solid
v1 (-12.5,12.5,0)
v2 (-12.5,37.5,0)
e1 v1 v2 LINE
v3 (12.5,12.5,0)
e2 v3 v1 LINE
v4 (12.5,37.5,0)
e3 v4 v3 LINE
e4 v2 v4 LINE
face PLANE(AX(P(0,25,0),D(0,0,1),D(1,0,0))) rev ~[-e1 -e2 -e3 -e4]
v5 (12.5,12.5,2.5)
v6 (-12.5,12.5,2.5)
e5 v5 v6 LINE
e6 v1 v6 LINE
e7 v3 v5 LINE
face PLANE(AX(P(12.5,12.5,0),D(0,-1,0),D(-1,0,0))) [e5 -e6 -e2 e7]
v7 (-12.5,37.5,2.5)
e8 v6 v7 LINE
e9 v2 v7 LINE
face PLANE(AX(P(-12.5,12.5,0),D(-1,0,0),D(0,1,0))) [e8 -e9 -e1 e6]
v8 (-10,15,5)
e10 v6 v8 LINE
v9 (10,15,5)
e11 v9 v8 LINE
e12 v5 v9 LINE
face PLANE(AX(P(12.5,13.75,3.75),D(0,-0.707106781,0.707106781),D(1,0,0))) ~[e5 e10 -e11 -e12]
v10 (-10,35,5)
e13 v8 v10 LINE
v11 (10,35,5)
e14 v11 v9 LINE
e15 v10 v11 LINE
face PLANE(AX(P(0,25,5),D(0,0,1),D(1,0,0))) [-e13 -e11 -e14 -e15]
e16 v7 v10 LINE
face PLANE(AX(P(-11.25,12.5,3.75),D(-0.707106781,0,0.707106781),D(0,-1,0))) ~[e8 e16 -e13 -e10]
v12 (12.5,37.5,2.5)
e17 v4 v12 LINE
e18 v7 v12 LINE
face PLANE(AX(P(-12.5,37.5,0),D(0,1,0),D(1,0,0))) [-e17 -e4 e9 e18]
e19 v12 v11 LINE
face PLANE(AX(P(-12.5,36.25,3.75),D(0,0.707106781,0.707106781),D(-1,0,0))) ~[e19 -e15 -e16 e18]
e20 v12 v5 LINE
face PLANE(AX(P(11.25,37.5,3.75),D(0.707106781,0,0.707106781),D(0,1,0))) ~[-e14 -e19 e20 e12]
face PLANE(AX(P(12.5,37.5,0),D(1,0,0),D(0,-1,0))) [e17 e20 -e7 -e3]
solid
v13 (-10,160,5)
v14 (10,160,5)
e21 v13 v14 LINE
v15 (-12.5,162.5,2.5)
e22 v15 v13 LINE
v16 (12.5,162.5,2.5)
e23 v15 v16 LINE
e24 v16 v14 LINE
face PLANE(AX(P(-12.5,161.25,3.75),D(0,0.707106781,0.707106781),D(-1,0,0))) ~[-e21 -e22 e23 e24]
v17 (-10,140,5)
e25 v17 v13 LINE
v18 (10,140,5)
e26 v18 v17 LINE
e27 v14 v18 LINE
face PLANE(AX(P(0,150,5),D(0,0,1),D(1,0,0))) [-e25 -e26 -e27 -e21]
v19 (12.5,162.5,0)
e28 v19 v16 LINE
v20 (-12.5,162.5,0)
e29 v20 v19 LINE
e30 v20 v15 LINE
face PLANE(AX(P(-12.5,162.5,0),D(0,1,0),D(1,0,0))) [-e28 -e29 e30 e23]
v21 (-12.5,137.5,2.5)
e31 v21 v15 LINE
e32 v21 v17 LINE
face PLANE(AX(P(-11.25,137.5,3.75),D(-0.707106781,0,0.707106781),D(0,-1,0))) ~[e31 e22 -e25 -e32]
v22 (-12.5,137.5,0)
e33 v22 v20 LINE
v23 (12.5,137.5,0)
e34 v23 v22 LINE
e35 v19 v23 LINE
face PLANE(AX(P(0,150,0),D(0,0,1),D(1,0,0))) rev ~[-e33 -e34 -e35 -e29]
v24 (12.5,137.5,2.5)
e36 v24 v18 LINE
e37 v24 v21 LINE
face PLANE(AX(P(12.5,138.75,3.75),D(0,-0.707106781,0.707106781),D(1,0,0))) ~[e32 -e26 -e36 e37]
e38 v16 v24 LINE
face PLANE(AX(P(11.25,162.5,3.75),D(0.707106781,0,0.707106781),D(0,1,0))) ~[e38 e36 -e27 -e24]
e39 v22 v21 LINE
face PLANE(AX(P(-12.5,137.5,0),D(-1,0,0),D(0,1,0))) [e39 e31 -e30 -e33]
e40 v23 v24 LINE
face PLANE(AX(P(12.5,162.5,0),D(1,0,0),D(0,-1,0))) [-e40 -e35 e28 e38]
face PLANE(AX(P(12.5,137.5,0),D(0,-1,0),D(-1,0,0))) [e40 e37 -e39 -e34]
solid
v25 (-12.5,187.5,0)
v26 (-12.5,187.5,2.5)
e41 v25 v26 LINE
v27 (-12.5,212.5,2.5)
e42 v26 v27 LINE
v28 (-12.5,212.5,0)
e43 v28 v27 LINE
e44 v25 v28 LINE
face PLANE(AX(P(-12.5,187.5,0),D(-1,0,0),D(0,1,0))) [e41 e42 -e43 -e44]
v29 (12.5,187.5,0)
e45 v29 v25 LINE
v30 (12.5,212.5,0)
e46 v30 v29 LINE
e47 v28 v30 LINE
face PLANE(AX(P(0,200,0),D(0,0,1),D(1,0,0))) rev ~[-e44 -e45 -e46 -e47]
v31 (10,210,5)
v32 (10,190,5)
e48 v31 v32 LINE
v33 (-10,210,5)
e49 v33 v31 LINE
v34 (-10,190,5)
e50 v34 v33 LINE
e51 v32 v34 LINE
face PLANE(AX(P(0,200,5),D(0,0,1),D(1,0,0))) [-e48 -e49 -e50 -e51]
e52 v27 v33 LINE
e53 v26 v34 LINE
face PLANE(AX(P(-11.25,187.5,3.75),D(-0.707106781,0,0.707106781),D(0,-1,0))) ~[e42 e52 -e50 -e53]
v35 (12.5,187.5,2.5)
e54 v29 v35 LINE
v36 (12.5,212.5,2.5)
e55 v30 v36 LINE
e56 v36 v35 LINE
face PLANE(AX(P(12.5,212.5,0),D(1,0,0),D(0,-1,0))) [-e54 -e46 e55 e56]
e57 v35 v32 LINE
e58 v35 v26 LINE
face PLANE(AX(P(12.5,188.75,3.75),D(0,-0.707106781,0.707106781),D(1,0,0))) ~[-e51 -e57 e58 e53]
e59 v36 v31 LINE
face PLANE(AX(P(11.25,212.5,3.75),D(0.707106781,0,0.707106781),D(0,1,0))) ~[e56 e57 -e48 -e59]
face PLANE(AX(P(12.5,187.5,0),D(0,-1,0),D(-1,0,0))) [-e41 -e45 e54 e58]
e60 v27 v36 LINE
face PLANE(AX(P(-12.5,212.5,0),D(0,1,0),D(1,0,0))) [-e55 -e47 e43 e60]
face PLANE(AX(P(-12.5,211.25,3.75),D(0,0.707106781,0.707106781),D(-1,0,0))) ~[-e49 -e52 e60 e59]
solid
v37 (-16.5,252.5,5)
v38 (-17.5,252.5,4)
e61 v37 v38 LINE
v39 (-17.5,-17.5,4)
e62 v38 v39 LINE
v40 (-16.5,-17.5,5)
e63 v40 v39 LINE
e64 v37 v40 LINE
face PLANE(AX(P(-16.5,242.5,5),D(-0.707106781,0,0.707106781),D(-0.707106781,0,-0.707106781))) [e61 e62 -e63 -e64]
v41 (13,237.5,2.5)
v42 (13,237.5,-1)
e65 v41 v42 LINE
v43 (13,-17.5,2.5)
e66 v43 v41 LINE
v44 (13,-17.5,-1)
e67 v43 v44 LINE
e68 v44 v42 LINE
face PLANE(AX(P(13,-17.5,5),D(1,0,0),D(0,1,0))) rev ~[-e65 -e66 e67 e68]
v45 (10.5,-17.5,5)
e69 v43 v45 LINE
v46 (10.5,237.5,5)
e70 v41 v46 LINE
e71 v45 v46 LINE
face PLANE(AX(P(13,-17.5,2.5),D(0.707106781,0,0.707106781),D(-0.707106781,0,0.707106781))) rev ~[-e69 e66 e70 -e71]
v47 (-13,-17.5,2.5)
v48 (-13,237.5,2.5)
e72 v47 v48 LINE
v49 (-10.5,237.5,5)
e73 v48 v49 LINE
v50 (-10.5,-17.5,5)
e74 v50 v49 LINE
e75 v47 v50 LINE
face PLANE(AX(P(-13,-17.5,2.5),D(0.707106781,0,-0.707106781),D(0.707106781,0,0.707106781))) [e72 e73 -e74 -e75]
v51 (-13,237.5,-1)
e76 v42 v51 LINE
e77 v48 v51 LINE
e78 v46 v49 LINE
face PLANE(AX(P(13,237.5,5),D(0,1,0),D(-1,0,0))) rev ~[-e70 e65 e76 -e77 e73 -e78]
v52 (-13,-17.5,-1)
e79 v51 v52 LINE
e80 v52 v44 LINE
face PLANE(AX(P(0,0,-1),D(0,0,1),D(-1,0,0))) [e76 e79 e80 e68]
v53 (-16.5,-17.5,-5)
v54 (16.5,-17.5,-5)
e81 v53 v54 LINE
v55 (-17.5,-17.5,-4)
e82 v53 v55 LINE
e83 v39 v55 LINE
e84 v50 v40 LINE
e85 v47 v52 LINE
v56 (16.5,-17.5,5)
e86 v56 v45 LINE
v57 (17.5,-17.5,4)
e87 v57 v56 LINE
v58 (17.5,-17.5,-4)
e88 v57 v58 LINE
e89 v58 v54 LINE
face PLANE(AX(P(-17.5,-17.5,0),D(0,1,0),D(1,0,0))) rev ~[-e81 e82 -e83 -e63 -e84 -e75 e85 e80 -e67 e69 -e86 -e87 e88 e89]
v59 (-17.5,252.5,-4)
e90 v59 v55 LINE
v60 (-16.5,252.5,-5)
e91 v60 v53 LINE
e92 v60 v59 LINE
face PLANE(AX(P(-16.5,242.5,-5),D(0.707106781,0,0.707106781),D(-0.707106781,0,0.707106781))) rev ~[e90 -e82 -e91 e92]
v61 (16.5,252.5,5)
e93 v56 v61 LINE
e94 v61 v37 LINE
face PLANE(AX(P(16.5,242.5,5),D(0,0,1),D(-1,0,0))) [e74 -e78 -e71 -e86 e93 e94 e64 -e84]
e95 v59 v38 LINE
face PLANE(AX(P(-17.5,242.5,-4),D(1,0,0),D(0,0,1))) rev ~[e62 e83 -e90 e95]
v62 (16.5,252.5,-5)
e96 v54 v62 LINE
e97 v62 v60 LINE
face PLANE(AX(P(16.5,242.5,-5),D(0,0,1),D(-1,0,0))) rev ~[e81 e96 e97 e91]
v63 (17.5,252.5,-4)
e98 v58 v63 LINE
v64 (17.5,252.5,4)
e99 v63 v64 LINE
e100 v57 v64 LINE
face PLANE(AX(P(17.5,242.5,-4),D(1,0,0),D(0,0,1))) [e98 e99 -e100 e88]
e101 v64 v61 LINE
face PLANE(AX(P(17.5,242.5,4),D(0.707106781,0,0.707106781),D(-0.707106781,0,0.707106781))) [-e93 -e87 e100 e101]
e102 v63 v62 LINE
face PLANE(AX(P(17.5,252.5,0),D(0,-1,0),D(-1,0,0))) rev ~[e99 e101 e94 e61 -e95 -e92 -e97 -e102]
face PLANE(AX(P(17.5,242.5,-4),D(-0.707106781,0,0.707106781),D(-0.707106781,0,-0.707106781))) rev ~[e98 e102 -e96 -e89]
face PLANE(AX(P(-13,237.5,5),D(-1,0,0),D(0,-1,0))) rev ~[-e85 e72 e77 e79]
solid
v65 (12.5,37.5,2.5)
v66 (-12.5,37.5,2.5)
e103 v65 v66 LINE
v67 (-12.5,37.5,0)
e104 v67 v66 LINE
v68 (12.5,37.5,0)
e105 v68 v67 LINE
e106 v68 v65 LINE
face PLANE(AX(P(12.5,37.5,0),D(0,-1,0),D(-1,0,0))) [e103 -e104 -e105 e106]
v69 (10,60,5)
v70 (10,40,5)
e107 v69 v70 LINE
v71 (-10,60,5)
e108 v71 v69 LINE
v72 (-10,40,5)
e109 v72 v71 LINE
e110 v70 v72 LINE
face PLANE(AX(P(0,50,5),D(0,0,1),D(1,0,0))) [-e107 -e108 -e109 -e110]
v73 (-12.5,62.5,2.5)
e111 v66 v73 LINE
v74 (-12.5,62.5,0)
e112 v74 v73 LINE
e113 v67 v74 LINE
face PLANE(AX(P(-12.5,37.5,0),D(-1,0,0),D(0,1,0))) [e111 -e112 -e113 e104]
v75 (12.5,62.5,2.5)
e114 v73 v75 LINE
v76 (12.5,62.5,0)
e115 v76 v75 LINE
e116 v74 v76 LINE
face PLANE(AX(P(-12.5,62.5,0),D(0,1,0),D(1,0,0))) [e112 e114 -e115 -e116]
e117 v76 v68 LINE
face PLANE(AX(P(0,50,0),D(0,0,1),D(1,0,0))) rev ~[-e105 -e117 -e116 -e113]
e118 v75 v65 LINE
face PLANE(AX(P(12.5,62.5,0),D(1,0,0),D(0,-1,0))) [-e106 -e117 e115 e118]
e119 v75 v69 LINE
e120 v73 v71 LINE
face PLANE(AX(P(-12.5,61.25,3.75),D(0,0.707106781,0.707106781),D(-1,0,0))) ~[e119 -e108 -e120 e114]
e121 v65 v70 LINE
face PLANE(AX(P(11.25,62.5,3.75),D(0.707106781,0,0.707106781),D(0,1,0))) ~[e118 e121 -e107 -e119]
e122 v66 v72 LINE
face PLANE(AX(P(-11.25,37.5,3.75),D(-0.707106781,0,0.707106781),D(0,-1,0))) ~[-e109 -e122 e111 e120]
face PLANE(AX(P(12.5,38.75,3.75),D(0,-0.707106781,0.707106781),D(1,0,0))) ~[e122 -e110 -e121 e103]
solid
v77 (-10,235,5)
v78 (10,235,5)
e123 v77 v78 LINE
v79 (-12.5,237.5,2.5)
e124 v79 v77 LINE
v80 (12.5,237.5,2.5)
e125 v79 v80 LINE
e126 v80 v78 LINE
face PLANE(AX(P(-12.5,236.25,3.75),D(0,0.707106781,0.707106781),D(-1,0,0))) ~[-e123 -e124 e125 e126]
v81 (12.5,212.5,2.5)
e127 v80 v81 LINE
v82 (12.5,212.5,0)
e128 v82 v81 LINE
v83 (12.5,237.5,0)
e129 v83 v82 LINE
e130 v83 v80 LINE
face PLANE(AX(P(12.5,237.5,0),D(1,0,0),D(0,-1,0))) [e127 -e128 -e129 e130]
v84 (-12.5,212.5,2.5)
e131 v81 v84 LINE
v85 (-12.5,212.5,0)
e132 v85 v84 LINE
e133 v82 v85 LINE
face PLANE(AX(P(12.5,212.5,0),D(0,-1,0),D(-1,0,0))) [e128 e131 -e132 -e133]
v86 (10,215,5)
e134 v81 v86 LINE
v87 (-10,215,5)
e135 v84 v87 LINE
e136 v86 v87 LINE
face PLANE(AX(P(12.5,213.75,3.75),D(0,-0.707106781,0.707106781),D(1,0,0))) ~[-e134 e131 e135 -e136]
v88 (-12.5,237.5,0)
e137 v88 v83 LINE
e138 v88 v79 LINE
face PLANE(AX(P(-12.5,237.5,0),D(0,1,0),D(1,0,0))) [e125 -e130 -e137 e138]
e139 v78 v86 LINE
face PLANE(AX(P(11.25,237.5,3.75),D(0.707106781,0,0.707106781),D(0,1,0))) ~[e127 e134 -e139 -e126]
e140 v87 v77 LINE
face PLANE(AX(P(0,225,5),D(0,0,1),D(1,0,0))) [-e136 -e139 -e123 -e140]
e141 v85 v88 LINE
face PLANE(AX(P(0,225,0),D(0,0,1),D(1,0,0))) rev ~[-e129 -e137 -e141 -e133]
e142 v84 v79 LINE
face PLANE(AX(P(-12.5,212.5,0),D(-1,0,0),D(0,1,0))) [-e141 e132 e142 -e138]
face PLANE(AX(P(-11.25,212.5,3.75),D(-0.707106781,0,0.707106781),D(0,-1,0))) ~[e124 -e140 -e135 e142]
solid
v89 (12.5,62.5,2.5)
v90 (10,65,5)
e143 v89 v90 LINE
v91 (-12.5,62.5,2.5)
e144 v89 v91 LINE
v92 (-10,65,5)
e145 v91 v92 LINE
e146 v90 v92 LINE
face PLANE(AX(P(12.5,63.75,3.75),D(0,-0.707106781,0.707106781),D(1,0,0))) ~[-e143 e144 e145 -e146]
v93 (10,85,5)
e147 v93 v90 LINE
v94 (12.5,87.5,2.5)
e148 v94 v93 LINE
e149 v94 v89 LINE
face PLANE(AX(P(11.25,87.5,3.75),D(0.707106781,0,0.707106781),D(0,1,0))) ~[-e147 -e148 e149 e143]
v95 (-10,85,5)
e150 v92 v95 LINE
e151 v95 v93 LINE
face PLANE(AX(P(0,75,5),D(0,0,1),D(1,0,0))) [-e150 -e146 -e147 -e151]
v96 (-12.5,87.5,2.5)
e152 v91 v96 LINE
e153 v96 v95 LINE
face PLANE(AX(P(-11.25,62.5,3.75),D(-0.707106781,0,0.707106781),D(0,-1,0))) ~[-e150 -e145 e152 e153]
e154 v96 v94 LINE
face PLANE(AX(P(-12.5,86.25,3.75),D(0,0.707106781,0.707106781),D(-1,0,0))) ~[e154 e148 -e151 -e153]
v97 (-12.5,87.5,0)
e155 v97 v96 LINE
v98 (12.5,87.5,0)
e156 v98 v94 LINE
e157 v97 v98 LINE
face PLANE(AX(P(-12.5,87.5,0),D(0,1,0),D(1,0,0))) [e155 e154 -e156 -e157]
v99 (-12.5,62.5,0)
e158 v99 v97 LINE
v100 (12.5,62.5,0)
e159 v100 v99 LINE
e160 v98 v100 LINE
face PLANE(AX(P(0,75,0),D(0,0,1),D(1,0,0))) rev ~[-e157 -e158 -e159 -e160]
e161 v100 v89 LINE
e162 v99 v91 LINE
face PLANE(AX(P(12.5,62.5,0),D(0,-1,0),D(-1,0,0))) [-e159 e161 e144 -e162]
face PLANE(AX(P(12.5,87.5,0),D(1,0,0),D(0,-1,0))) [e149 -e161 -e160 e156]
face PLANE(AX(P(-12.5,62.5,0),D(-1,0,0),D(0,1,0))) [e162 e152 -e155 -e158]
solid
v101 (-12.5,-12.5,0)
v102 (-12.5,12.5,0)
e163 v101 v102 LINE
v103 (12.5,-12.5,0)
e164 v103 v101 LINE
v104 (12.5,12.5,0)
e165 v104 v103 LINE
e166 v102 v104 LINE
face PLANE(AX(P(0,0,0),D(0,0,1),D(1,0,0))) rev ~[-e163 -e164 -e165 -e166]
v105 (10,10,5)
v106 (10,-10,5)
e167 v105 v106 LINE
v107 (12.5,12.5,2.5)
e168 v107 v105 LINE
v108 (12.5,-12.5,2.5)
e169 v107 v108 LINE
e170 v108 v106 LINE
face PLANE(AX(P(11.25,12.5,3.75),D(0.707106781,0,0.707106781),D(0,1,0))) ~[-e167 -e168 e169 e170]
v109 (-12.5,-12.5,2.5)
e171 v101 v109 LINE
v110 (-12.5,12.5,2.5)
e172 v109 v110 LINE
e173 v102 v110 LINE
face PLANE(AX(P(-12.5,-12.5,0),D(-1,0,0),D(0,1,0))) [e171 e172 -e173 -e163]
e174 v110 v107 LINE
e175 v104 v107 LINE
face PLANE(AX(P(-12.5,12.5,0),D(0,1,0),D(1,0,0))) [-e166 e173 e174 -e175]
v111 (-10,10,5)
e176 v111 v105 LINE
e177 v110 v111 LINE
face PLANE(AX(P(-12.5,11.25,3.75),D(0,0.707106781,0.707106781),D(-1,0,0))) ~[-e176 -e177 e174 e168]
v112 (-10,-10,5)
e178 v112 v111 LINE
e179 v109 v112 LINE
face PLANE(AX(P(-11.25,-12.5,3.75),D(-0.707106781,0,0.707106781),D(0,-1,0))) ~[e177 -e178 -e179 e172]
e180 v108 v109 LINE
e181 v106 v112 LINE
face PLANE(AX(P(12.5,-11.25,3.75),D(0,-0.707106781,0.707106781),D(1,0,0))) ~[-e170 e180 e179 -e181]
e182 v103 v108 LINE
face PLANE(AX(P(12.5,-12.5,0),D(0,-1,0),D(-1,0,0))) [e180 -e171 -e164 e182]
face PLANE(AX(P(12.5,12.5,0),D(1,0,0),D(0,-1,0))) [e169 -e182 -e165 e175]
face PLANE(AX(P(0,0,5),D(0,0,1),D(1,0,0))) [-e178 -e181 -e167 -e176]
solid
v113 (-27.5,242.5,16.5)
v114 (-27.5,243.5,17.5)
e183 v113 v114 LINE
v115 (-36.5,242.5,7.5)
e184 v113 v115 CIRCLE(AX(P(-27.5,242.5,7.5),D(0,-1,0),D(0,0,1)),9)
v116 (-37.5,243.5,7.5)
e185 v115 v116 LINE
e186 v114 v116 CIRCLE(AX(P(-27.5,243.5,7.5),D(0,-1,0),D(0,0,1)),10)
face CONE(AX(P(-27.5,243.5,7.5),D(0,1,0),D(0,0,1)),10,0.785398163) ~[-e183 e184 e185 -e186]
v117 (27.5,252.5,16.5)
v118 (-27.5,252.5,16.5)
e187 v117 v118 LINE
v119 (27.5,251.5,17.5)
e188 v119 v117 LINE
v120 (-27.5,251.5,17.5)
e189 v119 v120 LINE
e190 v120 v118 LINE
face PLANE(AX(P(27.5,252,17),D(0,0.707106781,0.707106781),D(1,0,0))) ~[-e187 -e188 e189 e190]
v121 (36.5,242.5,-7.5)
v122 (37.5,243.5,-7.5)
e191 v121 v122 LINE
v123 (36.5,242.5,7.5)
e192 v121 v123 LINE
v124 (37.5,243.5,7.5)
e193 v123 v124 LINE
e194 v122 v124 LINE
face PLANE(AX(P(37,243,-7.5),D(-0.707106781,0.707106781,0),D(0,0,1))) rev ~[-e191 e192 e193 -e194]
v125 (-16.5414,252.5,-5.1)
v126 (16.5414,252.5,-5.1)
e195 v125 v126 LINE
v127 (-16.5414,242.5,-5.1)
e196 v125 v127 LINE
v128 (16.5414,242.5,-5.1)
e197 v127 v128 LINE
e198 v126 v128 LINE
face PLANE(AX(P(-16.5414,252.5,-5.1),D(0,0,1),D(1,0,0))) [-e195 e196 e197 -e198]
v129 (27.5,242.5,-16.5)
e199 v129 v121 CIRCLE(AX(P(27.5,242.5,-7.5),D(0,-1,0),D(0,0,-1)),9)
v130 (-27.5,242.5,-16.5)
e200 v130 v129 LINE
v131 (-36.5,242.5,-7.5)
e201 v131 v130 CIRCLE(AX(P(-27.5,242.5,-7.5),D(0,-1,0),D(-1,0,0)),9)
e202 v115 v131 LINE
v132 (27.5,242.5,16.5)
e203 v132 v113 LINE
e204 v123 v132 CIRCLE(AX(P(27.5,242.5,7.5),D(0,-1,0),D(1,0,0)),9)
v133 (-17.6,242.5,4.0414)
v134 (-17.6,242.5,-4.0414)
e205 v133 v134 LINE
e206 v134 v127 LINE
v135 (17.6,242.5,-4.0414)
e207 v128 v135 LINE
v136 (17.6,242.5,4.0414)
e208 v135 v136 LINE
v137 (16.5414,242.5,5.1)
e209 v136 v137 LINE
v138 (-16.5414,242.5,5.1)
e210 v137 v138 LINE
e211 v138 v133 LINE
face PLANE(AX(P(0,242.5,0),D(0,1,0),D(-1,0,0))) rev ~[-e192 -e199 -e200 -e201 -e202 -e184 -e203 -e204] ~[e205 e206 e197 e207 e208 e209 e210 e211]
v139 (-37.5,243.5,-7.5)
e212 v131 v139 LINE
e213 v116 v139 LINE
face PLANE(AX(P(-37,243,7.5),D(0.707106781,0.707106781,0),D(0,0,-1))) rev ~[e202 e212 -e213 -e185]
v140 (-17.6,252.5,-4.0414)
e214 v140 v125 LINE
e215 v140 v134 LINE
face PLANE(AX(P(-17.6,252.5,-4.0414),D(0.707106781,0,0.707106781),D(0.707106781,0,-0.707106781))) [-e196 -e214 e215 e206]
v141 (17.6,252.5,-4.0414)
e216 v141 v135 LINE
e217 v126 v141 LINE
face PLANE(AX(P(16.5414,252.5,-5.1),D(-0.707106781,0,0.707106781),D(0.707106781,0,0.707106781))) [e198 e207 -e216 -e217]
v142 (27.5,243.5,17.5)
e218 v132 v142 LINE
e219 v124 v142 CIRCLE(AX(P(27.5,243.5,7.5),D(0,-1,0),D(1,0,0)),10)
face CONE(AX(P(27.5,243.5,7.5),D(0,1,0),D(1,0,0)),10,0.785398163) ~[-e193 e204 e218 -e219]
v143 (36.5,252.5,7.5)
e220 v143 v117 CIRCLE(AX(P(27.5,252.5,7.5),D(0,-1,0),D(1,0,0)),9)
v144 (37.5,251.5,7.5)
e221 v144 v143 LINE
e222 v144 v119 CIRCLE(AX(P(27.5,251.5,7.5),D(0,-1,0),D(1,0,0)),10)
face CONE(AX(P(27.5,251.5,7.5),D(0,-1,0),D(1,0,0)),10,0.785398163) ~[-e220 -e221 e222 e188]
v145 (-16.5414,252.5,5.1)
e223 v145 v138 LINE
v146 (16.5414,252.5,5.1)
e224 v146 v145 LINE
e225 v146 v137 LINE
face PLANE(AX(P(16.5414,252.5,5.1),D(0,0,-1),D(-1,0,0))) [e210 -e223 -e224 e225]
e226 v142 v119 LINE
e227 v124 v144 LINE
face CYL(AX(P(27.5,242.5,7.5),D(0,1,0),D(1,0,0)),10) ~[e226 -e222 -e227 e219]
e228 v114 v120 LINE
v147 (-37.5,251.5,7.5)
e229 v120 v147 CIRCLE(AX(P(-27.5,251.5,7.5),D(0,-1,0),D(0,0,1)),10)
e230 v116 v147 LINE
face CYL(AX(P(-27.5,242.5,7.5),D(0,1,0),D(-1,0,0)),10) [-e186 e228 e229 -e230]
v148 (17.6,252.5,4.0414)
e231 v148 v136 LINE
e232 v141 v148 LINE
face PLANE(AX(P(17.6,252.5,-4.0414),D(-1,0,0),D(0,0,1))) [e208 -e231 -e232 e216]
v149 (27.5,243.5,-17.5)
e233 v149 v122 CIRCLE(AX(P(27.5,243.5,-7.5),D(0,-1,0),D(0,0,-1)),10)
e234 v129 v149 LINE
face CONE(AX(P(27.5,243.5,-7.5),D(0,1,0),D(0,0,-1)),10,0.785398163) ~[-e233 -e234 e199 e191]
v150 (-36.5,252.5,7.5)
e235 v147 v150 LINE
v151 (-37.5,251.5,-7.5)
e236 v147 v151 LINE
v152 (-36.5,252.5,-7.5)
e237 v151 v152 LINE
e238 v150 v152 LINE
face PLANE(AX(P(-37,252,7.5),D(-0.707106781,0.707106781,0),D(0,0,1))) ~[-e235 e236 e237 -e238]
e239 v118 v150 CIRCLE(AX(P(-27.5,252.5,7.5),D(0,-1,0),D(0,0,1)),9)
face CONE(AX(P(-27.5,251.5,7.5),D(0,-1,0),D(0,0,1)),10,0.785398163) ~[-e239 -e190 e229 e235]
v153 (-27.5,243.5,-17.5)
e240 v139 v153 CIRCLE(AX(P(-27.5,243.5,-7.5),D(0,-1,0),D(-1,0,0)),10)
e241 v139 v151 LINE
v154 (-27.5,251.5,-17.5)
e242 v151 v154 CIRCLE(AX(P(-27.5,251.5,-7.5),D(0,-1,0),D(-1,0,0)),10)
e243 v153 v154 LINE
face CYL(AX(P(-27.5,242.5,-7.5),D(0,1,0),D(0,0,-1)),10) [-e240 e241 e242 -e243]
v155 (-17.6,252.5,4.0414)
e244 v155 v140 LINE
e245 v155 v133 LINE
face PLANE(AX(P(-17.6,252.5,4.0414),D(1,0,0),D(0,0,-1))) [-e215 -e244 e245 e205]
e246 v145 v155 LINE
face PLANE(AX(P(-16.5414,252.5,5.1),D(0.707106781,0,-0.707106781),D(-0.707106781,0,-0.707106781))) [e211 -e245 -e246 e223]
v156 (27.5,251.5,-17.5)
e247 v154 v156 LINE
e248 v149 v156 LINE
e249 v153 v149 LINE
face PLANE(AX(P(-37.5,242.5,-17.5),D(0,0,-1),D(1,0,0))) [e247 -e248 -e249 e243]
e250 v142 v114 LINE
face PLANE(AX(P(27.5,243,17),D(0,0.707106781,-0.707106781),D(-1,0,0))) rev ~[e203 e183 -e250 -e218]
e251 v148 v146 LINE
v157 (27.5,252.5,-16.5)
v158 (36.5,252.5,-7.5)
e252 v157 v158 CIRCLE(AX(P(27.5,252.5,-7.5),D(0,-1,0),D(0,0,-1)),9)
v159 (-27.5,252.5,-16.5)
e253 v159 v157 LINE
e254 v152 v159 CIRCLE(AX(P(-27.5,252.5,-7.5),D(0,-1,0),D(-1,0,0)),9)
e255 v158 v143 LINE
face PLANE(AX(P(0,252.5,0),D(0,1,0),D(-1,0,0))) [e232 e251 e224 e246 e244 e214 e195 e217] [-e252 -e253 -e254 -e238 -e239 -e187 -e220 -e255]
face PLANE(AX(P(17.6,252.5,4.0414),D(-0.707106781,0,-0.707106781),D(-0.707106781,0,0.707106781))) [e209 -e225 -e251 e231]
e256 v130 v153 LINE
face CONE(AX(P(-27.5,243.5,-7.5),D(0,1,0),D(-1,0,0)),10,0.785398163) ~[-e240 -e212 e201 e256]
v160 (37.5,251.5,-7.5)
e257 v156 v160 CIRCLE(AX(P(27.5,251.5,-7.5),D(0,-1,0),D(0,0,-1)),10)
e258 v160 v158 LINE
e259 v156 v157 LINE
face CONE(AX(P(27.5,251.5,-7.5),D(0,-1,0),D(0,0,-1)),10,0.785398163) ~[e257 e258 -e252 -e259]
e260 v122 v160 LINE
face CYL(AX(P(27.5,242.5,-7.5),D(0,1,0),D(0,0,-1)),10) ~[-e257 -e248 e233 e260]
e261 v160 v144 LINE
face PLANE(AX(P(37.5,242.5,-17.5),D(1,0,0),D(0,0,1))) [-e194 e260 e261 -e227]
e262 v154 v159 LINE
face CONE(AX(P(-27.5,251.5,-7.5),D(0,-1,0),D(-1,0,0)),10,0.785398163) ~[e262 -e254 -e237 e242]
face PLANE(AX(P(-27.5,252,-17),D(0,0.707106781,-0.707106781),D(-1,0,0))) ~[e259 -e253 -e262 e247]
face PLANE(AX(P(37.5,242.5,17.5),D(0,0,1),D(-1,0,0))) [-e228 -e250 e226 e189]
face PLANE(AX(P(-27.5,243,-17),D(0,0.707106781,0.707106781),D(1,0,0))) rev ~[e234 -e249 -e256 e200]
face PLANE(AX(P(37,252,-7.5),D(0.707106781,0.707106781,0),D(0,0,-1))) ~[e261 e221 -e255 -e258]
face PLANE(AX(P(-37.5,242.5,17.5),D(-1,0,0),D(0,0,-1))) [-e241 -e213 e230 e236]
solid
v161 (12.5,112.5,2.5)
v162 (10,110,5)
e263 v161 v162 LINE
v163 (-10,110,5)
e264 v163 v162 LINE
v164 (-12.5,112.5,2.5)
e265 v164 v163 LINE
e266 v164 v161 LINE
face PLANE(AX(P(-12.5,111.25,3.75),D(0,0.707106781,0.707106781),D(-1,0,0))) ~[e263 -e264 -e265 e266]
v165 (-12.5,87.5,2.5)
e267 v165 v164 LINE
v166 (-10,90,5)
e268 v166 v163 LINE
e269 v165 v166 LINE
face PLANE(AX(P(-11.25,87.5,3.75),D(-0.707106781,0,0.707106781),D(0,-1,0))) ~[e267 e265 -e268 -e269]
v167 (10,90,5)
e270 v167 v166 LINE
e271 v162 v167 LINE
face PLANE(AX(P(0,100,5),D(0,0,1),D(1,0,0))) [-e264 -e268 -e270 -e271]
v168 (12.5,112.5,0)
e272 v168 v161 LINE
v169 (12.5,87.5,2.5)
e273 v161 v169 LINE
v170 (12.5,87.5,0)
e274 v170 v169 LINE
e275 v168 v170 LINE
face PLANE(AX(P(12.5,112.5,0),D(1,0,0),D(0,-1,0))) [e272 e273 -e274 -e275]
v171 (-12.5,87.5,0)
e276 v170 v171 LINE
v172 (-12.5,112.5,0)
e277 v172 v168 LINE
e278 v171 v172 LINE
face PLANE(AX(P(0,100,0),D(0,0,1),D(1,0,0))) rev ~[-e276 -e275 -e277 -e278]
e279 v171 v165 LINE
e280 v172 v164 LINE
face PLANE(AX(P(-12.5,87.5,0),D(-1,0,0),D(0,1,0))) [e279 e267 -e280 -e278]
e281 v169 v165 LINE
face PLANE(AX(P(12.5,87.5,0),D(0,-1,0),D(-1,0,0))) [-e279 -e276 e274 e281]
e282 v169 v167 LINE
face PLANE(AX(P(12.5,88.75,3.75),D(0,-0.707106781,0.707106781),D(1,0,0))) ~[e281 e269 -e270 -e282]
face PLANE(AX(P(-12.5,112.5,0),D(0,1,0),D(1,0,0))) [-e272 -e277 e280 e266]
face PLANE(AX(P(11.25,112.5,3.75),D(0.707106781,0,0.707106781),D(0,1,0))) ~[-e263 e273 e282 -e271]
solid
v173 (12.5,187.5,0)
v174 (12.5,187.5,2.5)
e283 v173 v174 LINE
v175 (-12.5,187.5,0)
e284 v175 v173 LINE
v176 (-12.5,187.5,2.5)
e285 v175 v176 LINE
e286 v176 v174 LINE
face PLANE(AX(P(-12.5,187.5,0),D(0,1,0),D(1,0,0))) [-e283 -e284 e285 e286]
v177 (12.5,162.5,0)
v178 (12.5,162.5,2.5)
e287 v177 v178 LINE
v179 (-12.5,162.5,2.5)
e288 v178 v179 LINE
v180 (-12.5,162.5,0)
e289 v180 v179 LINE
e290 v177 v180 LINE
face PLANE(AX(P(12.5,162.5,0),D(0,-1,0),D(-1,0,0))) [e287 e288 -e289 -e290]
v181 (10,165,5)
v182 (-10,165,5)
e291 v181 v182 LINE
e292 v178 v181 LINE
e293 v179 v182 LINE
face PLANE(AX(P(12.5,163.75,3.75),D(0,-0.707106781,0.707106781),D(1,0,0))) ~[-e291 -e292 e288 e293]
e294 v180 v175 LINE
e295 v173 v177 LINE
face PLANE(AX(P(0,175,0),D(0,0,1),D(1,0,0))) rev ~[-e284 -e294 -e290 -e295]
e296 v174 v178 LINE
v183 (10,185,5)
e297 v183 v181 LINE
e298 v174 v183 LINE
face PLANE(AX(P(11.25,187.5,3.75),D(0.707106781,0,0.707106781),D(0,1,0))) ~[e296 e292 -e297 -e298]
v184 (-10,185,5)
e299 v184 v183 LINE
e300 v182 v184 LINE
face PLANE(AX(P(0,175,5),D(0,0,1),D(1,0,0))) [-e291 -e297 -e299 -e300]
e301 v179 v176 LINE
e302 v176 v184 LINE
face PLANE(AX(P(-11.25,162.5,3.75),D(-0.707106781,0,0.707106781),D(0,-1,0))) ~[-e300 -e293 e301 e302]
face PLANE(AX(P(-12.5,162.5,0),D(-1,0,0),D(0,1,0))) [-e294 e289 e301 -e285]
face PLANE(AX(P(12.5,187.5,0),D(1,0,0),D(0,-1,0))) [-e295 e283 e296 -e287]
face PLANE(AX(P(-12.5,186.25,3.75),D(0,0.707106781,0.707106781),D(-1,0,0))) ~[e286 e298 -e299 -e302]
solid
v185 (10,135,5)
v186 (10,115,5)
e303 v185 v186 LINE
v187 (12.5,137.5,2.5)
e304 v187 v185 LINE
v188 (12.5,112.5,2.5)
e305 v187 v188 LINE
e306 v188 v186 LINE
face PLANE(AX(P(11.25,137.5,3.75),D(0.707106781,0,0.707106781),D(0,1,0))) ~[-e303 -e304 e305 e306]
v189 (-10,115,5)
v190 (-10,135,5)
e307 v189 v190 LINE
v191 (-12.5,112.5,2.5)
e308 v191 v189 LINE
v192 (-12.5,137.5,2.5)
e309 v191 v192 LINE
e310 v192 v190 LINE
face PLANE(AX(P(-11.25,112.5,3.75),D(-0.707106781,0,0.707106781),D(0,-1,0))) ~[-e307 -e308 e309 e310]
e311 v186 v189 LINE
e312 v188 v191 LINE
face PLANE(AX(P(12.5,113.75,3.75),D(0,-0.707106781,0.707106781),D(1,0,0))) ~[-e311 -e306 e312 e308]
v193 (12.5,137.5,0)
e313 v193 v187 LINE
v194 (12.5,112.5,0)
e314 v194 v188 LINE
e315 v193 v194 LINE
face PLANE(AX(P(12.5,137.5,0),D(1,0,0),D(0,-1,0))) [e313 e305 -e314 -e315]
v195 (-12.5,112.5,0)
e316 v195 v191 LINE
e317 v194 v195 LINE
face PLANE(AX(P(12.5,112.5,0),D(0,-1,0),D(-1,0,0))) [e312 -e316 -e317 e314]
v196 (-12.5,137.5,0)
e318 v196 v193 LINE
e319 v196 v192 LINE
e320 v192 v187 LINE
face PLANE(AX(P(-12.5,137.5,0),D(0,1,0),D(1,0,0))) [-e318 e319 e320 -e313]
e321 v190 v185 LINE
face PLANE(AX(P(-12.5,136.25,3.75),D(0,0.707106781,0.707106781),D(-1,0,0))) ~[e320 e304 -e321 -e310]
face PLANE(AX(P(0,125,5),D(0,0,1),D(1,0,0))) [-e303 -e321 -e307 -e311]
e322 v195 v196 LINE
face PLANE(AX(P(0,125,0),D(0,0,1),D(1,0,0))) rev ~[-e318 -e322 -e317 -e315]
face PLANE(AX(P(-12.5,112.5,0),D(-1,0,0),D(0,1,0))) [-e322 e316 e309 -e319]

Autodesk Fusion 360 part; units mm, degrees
sketch "Sketch1" plane through (0, 0, 0) normal (0, 0, 1) x (1, 0, 0)
  line L0 (12.5, -12.5) -> (-12.5, -12.5)
  line L1 (-12.5, -12.5) -> (-12.5, 12.5)
  line L2 (-12.5, 12.5) -> (12.5, 12.5)
  line L3 (12.5, 12.5) -> (12.5, -12.5)
  line L4 (12.5, -12.5) -> (-12.5, 12.5) construction
  line L5 (-12.5, -12.5) -> (12.5, 12.5) construction
  dimension "d1" = 25
  dimension "d2" = 25
extrude "Extrude1" add sketch "Sketch1" along normal blind 5 makes body 1
chamfer "Chamfer1" distance 2.5 angle 45 1 faces at (4.1667, -4.1667, 5) on bodies 1
pattern_linear "R-Pattern1" count 10 spacing 25 along (0, 1, 0) of bodies 1 makes body 2 at (4.1667, 20.8333, 0) makes body 3 at (4.1667, 45.8333, 0) makes body 4 at (4.1667, 70.8333, 0) makes body 5 at (4.1667, 95.8333, 0) makes body 6 at (4.1667, 120.8333, 0) makes body 7 at (4.1667, 145.8333, 0) makes body 8 at (4.1667, 170.8333, 0) makes body 9 at (4.1667, 195.8333, 0) makes body 10 at (4.1667, 220.8333, 0)
sketch "Sketch2" plane through (0, 0, 0) normal (0, 0, 1) x (1, 0, 0)
  line L0 (17.5, 242.5) -> (-17.5, 242.5)
  line L1 (-17.5, 242.5) -> (-17.5, -17.5)
  line L2 (-17.5, -17.5) -> (17.5, -17.5)
  line L3 (17.5, -17.5) -> (17.5, 242.5)
  line L4 (17.5, 242.5) -> (-17.5, -17.5) construction
  line L5 (-17.5, 242.5) -> (17.5, -17.5) construction
  line L6 (-12.5, 12.5) -> (12.5, 12.5) construction
  line L7 (12.5, 12.5) -> (12.5, -12.5) construction
  line L8 (12.5, -12.5) -> (-12.5, -12.5) construction
  line L9 (-12.5, -12.5) -> (-12.5, 12.5) construction
  line L10 (-17.5, -17.5) -> (-17.5, 17.5)
  line L11 (-17.5, 17.5) -> (17.5, 17.5) construction
  line L12 (17.5, 17.5) -> (17.5, -17.5)
  line L13 (17.5, -17.5) -> (-17.5, -17.5)
  point P0 (0, 112.5)
  dimension "d11" = 35
  dimension "d12" = 260
  dimension "d13" = -5
extrude "Extrude2" add sketch "Sketch2" along normal blind 5 and the other way blind 5 separate body makes body 11
sketch "Sketch3" plane through (0, 0, 5) normal (0, 0, 1) x (-1, 0, 0)
  line L0 (-17.5, 17.5) -> (-17.5, -242.5)
  line L1 (17.5, -242.5) -> (17.5, 17.5)
  line L2 (13, -242.5) -> (13, 17.5)
  line L3 (-13, 17.5) -> (-13, -242.5)
  line L4 (17.5, 17.5) -> (-17.5, 17.5)
  line L5 (-17.5, -242.5) -> (17.5, -242.5)
  line L6 (-17.5, -237.5) -> (17.5, -237.5)
  dimension "d18" = -4.5
  dimension "d19" = -4.5
  dimension "d22" = 5
extrude "Extrude3" cut sketch "Sketch3" against normal blind 6 contours L2 L3 L4 L6 bodies 11
sketch "Sketch4" plane through (0, -17.5, 0) normal (0, -1, 0) x (1, 0, 0)
  line L0 (13, 5) -> (13, -1)
  line L1 (13, -1) -> (-13, -1)
  line L2 (-13, -1) -> (-13, 5)
  line L3 (-13, 5) -> (-17.5, 5)
  line L4 (-17.5, 5) -> (-17.5, -5)
  line L5 (-17.5, -5) -> (17.5, -5)
  line L6 (17.5, -5) -> (17.5, 5)
  line L7 (17.5, 5) -> (13, 5)
  line L8 (13, 2.5) -> (10.5, 5)
  line L9 (10.5, 5) -> (13, 5)
  line L10 (0, 0) -> (0, 1.1872)
  line L11 (-13, 2.5) -> (-10.5, 5)
  line L12 (-10.5, 5) -> (-13, 5)
  dimension "d23" = 135
  dimension "d24" = 2.5
  dimension "d25" = 2.5
extrude "Extrude4" add sketch "Sketch4" against normal blind 255 contours L0 L8 L9 | L2 L11 L12 bodies 11
chamfer "Chamfer2" distance 1 angle 45 4 edges at (-17.5, 112.5, -5) (17.5, 112.5, 5) (-17.5, 112.5, 5) (17.5, 112.5, -5) on bodies 11
sketch "Sketch5" plane through (0, 242.5, 0) normal (0, 1, 0) x (-1, 0, 0)
  line L0 (-17.5, -4) -> (-16.5, -5)
  line L1 (-16.5, -5) -> (16.5, -5)
  line L2 (16.5, -5) -> (17.5, -4)
  line L3 (17.5, -4) -> (17.5, 4)
  line L4 (17.5, 4) -> (16.5, 5)
  line L5 (16.5, 5) -> (-16.5, 5)
  line L6 (-16.5, 5) -> (-17.5, 4)
  line L7 (-17.5, 4) -> (-17.5, -4)
  line L8 (37.5, -17.5) -> (-37.5, -17.5)
  line L9 (-37.5, -17.5) -> (-37.5, 17.5)
  line L10 (-37.5, 17.5) -> (37.5, 17.5)
  line L11 (37.5, 17.5) -> (37.5, -17.5)
  line L12 (37.5, -17.5) -> (-37.5, 17.5) construction
  line L13 (-37.5, -17.5) -> (37.5, 17.5) construction
  dimension "d29" = 75
  dimension "d30" = 35
extrude "Extrude5" add sketch "Sketch5" along normal blind 10 separate body contours L0 L1 L2 L3 L4 L5 L6 L7 | L8 L9 L10 L11 makes body 12
extrude "Extrude6" add 1 faces at (5.5, 242.5, -1.6667) along direction (0, 1, 0) blind 10 on bodies 11 bodies 11
combine "Combine2" operation cut target body 12 tool bodies 11 keep tools
sketch "Sketch6" plane through (0, 252.5, 0) normal (0, 1, 0) x (-1, 0, 0)
  line L0 (16.5, 5) -> (17.5, 4)
  line L1 (17.5, 4) -> (17.5, -4)
  line L2 (17.5, -4) -> (16.5, -5)
  line L3 (16.5, -5) -> (-16.5, -5)
  line L4 (-16.5, -5) -> (-17.5, -4)
  line L5 (-17.5, -4) -> (-17.5, 4)
  line L6 (-17.5, 4) -> (-16.5, 5)
  line L7 (-16.5, 5) -> (16.5, 5)
  line L8 (37.5, -17.5) -> (37.5, 17.5)
  line L9 (37.5, 17.5) -> (-37.5, 17.5)
  line L10 (-37.5, 17.5) -> (-37.5, -17.5)
  line L11 (-37.5, -17.5) -> (37.5, -17.5)
  line L12 (-16.5414, 5.1) -> (16.5414, 5.1)
  line L13 (16.5414, 5.1) -> (17.6, 4.0414)
  line L14 (17.6, 4.0414) -> (17.6, -4.0414)
  line L15 (17.6, -4.0414) -> (16.5414, -5.1)
  line L16 (16.5414, -5.1) -> (-16.5414, -5.1)
  line L17 (-16.5414, -5.1) -> (-17.6, -4.0414)
  line L18 (-17.6, -4.0414) -> (-17.6, 4.0414)
  line L19 (-17.6, 4.0414) -> (-16.5414, 5.1)
  dimension "d36" = -0.1
extrude "Extrude7" cut sketch "Sketch6" against normal blind 10 contours L12 L13 L14 L15 L16 L17 L18 L19 bodies 12
fillet "Fillet1" radius 10 4 edges at (37.5, 247.5, 17.5) (37.5, 247.5, -17.5) (-37.5, 247.5, 17.5) (-37.5, 247.5, -17.5) on bodies 12
chamfer "Chamfer4" distance 1 angle 45 16 edges at (0, 252.5, 17.5) (34.5711, 252.5, 14.5711) (37.5, 252.5, 0) (34.5711, 252.5, -14.5711) (0, 252.5, -17.5) (-34.5711, 252.5, -14.5711) (-37.5, 252.5, 0) (-34.5711, 252.5, 14.5711) (0, 242.5, 17.5) (-34.5711, 242.5, 14.5711) (-37.5, 242.5, 0) (-34.5711, 242.5, -14.5711) (0, 242.5, -17.5) (34.5711, 242.5, -14.5711) (37.5, 242.5, 0) (34.5711, 242.5, 14.5711) on bodies 12
equation "d7 = NumberOfPins"
equation "d12 = ( 25 * NumberOfPins ) * 1 mm + 10 mm"
equation "d26 = ( -25 * NumberOfPins ) * 1 mm - 5 mm"
equation "NumberOfPins = 10"
